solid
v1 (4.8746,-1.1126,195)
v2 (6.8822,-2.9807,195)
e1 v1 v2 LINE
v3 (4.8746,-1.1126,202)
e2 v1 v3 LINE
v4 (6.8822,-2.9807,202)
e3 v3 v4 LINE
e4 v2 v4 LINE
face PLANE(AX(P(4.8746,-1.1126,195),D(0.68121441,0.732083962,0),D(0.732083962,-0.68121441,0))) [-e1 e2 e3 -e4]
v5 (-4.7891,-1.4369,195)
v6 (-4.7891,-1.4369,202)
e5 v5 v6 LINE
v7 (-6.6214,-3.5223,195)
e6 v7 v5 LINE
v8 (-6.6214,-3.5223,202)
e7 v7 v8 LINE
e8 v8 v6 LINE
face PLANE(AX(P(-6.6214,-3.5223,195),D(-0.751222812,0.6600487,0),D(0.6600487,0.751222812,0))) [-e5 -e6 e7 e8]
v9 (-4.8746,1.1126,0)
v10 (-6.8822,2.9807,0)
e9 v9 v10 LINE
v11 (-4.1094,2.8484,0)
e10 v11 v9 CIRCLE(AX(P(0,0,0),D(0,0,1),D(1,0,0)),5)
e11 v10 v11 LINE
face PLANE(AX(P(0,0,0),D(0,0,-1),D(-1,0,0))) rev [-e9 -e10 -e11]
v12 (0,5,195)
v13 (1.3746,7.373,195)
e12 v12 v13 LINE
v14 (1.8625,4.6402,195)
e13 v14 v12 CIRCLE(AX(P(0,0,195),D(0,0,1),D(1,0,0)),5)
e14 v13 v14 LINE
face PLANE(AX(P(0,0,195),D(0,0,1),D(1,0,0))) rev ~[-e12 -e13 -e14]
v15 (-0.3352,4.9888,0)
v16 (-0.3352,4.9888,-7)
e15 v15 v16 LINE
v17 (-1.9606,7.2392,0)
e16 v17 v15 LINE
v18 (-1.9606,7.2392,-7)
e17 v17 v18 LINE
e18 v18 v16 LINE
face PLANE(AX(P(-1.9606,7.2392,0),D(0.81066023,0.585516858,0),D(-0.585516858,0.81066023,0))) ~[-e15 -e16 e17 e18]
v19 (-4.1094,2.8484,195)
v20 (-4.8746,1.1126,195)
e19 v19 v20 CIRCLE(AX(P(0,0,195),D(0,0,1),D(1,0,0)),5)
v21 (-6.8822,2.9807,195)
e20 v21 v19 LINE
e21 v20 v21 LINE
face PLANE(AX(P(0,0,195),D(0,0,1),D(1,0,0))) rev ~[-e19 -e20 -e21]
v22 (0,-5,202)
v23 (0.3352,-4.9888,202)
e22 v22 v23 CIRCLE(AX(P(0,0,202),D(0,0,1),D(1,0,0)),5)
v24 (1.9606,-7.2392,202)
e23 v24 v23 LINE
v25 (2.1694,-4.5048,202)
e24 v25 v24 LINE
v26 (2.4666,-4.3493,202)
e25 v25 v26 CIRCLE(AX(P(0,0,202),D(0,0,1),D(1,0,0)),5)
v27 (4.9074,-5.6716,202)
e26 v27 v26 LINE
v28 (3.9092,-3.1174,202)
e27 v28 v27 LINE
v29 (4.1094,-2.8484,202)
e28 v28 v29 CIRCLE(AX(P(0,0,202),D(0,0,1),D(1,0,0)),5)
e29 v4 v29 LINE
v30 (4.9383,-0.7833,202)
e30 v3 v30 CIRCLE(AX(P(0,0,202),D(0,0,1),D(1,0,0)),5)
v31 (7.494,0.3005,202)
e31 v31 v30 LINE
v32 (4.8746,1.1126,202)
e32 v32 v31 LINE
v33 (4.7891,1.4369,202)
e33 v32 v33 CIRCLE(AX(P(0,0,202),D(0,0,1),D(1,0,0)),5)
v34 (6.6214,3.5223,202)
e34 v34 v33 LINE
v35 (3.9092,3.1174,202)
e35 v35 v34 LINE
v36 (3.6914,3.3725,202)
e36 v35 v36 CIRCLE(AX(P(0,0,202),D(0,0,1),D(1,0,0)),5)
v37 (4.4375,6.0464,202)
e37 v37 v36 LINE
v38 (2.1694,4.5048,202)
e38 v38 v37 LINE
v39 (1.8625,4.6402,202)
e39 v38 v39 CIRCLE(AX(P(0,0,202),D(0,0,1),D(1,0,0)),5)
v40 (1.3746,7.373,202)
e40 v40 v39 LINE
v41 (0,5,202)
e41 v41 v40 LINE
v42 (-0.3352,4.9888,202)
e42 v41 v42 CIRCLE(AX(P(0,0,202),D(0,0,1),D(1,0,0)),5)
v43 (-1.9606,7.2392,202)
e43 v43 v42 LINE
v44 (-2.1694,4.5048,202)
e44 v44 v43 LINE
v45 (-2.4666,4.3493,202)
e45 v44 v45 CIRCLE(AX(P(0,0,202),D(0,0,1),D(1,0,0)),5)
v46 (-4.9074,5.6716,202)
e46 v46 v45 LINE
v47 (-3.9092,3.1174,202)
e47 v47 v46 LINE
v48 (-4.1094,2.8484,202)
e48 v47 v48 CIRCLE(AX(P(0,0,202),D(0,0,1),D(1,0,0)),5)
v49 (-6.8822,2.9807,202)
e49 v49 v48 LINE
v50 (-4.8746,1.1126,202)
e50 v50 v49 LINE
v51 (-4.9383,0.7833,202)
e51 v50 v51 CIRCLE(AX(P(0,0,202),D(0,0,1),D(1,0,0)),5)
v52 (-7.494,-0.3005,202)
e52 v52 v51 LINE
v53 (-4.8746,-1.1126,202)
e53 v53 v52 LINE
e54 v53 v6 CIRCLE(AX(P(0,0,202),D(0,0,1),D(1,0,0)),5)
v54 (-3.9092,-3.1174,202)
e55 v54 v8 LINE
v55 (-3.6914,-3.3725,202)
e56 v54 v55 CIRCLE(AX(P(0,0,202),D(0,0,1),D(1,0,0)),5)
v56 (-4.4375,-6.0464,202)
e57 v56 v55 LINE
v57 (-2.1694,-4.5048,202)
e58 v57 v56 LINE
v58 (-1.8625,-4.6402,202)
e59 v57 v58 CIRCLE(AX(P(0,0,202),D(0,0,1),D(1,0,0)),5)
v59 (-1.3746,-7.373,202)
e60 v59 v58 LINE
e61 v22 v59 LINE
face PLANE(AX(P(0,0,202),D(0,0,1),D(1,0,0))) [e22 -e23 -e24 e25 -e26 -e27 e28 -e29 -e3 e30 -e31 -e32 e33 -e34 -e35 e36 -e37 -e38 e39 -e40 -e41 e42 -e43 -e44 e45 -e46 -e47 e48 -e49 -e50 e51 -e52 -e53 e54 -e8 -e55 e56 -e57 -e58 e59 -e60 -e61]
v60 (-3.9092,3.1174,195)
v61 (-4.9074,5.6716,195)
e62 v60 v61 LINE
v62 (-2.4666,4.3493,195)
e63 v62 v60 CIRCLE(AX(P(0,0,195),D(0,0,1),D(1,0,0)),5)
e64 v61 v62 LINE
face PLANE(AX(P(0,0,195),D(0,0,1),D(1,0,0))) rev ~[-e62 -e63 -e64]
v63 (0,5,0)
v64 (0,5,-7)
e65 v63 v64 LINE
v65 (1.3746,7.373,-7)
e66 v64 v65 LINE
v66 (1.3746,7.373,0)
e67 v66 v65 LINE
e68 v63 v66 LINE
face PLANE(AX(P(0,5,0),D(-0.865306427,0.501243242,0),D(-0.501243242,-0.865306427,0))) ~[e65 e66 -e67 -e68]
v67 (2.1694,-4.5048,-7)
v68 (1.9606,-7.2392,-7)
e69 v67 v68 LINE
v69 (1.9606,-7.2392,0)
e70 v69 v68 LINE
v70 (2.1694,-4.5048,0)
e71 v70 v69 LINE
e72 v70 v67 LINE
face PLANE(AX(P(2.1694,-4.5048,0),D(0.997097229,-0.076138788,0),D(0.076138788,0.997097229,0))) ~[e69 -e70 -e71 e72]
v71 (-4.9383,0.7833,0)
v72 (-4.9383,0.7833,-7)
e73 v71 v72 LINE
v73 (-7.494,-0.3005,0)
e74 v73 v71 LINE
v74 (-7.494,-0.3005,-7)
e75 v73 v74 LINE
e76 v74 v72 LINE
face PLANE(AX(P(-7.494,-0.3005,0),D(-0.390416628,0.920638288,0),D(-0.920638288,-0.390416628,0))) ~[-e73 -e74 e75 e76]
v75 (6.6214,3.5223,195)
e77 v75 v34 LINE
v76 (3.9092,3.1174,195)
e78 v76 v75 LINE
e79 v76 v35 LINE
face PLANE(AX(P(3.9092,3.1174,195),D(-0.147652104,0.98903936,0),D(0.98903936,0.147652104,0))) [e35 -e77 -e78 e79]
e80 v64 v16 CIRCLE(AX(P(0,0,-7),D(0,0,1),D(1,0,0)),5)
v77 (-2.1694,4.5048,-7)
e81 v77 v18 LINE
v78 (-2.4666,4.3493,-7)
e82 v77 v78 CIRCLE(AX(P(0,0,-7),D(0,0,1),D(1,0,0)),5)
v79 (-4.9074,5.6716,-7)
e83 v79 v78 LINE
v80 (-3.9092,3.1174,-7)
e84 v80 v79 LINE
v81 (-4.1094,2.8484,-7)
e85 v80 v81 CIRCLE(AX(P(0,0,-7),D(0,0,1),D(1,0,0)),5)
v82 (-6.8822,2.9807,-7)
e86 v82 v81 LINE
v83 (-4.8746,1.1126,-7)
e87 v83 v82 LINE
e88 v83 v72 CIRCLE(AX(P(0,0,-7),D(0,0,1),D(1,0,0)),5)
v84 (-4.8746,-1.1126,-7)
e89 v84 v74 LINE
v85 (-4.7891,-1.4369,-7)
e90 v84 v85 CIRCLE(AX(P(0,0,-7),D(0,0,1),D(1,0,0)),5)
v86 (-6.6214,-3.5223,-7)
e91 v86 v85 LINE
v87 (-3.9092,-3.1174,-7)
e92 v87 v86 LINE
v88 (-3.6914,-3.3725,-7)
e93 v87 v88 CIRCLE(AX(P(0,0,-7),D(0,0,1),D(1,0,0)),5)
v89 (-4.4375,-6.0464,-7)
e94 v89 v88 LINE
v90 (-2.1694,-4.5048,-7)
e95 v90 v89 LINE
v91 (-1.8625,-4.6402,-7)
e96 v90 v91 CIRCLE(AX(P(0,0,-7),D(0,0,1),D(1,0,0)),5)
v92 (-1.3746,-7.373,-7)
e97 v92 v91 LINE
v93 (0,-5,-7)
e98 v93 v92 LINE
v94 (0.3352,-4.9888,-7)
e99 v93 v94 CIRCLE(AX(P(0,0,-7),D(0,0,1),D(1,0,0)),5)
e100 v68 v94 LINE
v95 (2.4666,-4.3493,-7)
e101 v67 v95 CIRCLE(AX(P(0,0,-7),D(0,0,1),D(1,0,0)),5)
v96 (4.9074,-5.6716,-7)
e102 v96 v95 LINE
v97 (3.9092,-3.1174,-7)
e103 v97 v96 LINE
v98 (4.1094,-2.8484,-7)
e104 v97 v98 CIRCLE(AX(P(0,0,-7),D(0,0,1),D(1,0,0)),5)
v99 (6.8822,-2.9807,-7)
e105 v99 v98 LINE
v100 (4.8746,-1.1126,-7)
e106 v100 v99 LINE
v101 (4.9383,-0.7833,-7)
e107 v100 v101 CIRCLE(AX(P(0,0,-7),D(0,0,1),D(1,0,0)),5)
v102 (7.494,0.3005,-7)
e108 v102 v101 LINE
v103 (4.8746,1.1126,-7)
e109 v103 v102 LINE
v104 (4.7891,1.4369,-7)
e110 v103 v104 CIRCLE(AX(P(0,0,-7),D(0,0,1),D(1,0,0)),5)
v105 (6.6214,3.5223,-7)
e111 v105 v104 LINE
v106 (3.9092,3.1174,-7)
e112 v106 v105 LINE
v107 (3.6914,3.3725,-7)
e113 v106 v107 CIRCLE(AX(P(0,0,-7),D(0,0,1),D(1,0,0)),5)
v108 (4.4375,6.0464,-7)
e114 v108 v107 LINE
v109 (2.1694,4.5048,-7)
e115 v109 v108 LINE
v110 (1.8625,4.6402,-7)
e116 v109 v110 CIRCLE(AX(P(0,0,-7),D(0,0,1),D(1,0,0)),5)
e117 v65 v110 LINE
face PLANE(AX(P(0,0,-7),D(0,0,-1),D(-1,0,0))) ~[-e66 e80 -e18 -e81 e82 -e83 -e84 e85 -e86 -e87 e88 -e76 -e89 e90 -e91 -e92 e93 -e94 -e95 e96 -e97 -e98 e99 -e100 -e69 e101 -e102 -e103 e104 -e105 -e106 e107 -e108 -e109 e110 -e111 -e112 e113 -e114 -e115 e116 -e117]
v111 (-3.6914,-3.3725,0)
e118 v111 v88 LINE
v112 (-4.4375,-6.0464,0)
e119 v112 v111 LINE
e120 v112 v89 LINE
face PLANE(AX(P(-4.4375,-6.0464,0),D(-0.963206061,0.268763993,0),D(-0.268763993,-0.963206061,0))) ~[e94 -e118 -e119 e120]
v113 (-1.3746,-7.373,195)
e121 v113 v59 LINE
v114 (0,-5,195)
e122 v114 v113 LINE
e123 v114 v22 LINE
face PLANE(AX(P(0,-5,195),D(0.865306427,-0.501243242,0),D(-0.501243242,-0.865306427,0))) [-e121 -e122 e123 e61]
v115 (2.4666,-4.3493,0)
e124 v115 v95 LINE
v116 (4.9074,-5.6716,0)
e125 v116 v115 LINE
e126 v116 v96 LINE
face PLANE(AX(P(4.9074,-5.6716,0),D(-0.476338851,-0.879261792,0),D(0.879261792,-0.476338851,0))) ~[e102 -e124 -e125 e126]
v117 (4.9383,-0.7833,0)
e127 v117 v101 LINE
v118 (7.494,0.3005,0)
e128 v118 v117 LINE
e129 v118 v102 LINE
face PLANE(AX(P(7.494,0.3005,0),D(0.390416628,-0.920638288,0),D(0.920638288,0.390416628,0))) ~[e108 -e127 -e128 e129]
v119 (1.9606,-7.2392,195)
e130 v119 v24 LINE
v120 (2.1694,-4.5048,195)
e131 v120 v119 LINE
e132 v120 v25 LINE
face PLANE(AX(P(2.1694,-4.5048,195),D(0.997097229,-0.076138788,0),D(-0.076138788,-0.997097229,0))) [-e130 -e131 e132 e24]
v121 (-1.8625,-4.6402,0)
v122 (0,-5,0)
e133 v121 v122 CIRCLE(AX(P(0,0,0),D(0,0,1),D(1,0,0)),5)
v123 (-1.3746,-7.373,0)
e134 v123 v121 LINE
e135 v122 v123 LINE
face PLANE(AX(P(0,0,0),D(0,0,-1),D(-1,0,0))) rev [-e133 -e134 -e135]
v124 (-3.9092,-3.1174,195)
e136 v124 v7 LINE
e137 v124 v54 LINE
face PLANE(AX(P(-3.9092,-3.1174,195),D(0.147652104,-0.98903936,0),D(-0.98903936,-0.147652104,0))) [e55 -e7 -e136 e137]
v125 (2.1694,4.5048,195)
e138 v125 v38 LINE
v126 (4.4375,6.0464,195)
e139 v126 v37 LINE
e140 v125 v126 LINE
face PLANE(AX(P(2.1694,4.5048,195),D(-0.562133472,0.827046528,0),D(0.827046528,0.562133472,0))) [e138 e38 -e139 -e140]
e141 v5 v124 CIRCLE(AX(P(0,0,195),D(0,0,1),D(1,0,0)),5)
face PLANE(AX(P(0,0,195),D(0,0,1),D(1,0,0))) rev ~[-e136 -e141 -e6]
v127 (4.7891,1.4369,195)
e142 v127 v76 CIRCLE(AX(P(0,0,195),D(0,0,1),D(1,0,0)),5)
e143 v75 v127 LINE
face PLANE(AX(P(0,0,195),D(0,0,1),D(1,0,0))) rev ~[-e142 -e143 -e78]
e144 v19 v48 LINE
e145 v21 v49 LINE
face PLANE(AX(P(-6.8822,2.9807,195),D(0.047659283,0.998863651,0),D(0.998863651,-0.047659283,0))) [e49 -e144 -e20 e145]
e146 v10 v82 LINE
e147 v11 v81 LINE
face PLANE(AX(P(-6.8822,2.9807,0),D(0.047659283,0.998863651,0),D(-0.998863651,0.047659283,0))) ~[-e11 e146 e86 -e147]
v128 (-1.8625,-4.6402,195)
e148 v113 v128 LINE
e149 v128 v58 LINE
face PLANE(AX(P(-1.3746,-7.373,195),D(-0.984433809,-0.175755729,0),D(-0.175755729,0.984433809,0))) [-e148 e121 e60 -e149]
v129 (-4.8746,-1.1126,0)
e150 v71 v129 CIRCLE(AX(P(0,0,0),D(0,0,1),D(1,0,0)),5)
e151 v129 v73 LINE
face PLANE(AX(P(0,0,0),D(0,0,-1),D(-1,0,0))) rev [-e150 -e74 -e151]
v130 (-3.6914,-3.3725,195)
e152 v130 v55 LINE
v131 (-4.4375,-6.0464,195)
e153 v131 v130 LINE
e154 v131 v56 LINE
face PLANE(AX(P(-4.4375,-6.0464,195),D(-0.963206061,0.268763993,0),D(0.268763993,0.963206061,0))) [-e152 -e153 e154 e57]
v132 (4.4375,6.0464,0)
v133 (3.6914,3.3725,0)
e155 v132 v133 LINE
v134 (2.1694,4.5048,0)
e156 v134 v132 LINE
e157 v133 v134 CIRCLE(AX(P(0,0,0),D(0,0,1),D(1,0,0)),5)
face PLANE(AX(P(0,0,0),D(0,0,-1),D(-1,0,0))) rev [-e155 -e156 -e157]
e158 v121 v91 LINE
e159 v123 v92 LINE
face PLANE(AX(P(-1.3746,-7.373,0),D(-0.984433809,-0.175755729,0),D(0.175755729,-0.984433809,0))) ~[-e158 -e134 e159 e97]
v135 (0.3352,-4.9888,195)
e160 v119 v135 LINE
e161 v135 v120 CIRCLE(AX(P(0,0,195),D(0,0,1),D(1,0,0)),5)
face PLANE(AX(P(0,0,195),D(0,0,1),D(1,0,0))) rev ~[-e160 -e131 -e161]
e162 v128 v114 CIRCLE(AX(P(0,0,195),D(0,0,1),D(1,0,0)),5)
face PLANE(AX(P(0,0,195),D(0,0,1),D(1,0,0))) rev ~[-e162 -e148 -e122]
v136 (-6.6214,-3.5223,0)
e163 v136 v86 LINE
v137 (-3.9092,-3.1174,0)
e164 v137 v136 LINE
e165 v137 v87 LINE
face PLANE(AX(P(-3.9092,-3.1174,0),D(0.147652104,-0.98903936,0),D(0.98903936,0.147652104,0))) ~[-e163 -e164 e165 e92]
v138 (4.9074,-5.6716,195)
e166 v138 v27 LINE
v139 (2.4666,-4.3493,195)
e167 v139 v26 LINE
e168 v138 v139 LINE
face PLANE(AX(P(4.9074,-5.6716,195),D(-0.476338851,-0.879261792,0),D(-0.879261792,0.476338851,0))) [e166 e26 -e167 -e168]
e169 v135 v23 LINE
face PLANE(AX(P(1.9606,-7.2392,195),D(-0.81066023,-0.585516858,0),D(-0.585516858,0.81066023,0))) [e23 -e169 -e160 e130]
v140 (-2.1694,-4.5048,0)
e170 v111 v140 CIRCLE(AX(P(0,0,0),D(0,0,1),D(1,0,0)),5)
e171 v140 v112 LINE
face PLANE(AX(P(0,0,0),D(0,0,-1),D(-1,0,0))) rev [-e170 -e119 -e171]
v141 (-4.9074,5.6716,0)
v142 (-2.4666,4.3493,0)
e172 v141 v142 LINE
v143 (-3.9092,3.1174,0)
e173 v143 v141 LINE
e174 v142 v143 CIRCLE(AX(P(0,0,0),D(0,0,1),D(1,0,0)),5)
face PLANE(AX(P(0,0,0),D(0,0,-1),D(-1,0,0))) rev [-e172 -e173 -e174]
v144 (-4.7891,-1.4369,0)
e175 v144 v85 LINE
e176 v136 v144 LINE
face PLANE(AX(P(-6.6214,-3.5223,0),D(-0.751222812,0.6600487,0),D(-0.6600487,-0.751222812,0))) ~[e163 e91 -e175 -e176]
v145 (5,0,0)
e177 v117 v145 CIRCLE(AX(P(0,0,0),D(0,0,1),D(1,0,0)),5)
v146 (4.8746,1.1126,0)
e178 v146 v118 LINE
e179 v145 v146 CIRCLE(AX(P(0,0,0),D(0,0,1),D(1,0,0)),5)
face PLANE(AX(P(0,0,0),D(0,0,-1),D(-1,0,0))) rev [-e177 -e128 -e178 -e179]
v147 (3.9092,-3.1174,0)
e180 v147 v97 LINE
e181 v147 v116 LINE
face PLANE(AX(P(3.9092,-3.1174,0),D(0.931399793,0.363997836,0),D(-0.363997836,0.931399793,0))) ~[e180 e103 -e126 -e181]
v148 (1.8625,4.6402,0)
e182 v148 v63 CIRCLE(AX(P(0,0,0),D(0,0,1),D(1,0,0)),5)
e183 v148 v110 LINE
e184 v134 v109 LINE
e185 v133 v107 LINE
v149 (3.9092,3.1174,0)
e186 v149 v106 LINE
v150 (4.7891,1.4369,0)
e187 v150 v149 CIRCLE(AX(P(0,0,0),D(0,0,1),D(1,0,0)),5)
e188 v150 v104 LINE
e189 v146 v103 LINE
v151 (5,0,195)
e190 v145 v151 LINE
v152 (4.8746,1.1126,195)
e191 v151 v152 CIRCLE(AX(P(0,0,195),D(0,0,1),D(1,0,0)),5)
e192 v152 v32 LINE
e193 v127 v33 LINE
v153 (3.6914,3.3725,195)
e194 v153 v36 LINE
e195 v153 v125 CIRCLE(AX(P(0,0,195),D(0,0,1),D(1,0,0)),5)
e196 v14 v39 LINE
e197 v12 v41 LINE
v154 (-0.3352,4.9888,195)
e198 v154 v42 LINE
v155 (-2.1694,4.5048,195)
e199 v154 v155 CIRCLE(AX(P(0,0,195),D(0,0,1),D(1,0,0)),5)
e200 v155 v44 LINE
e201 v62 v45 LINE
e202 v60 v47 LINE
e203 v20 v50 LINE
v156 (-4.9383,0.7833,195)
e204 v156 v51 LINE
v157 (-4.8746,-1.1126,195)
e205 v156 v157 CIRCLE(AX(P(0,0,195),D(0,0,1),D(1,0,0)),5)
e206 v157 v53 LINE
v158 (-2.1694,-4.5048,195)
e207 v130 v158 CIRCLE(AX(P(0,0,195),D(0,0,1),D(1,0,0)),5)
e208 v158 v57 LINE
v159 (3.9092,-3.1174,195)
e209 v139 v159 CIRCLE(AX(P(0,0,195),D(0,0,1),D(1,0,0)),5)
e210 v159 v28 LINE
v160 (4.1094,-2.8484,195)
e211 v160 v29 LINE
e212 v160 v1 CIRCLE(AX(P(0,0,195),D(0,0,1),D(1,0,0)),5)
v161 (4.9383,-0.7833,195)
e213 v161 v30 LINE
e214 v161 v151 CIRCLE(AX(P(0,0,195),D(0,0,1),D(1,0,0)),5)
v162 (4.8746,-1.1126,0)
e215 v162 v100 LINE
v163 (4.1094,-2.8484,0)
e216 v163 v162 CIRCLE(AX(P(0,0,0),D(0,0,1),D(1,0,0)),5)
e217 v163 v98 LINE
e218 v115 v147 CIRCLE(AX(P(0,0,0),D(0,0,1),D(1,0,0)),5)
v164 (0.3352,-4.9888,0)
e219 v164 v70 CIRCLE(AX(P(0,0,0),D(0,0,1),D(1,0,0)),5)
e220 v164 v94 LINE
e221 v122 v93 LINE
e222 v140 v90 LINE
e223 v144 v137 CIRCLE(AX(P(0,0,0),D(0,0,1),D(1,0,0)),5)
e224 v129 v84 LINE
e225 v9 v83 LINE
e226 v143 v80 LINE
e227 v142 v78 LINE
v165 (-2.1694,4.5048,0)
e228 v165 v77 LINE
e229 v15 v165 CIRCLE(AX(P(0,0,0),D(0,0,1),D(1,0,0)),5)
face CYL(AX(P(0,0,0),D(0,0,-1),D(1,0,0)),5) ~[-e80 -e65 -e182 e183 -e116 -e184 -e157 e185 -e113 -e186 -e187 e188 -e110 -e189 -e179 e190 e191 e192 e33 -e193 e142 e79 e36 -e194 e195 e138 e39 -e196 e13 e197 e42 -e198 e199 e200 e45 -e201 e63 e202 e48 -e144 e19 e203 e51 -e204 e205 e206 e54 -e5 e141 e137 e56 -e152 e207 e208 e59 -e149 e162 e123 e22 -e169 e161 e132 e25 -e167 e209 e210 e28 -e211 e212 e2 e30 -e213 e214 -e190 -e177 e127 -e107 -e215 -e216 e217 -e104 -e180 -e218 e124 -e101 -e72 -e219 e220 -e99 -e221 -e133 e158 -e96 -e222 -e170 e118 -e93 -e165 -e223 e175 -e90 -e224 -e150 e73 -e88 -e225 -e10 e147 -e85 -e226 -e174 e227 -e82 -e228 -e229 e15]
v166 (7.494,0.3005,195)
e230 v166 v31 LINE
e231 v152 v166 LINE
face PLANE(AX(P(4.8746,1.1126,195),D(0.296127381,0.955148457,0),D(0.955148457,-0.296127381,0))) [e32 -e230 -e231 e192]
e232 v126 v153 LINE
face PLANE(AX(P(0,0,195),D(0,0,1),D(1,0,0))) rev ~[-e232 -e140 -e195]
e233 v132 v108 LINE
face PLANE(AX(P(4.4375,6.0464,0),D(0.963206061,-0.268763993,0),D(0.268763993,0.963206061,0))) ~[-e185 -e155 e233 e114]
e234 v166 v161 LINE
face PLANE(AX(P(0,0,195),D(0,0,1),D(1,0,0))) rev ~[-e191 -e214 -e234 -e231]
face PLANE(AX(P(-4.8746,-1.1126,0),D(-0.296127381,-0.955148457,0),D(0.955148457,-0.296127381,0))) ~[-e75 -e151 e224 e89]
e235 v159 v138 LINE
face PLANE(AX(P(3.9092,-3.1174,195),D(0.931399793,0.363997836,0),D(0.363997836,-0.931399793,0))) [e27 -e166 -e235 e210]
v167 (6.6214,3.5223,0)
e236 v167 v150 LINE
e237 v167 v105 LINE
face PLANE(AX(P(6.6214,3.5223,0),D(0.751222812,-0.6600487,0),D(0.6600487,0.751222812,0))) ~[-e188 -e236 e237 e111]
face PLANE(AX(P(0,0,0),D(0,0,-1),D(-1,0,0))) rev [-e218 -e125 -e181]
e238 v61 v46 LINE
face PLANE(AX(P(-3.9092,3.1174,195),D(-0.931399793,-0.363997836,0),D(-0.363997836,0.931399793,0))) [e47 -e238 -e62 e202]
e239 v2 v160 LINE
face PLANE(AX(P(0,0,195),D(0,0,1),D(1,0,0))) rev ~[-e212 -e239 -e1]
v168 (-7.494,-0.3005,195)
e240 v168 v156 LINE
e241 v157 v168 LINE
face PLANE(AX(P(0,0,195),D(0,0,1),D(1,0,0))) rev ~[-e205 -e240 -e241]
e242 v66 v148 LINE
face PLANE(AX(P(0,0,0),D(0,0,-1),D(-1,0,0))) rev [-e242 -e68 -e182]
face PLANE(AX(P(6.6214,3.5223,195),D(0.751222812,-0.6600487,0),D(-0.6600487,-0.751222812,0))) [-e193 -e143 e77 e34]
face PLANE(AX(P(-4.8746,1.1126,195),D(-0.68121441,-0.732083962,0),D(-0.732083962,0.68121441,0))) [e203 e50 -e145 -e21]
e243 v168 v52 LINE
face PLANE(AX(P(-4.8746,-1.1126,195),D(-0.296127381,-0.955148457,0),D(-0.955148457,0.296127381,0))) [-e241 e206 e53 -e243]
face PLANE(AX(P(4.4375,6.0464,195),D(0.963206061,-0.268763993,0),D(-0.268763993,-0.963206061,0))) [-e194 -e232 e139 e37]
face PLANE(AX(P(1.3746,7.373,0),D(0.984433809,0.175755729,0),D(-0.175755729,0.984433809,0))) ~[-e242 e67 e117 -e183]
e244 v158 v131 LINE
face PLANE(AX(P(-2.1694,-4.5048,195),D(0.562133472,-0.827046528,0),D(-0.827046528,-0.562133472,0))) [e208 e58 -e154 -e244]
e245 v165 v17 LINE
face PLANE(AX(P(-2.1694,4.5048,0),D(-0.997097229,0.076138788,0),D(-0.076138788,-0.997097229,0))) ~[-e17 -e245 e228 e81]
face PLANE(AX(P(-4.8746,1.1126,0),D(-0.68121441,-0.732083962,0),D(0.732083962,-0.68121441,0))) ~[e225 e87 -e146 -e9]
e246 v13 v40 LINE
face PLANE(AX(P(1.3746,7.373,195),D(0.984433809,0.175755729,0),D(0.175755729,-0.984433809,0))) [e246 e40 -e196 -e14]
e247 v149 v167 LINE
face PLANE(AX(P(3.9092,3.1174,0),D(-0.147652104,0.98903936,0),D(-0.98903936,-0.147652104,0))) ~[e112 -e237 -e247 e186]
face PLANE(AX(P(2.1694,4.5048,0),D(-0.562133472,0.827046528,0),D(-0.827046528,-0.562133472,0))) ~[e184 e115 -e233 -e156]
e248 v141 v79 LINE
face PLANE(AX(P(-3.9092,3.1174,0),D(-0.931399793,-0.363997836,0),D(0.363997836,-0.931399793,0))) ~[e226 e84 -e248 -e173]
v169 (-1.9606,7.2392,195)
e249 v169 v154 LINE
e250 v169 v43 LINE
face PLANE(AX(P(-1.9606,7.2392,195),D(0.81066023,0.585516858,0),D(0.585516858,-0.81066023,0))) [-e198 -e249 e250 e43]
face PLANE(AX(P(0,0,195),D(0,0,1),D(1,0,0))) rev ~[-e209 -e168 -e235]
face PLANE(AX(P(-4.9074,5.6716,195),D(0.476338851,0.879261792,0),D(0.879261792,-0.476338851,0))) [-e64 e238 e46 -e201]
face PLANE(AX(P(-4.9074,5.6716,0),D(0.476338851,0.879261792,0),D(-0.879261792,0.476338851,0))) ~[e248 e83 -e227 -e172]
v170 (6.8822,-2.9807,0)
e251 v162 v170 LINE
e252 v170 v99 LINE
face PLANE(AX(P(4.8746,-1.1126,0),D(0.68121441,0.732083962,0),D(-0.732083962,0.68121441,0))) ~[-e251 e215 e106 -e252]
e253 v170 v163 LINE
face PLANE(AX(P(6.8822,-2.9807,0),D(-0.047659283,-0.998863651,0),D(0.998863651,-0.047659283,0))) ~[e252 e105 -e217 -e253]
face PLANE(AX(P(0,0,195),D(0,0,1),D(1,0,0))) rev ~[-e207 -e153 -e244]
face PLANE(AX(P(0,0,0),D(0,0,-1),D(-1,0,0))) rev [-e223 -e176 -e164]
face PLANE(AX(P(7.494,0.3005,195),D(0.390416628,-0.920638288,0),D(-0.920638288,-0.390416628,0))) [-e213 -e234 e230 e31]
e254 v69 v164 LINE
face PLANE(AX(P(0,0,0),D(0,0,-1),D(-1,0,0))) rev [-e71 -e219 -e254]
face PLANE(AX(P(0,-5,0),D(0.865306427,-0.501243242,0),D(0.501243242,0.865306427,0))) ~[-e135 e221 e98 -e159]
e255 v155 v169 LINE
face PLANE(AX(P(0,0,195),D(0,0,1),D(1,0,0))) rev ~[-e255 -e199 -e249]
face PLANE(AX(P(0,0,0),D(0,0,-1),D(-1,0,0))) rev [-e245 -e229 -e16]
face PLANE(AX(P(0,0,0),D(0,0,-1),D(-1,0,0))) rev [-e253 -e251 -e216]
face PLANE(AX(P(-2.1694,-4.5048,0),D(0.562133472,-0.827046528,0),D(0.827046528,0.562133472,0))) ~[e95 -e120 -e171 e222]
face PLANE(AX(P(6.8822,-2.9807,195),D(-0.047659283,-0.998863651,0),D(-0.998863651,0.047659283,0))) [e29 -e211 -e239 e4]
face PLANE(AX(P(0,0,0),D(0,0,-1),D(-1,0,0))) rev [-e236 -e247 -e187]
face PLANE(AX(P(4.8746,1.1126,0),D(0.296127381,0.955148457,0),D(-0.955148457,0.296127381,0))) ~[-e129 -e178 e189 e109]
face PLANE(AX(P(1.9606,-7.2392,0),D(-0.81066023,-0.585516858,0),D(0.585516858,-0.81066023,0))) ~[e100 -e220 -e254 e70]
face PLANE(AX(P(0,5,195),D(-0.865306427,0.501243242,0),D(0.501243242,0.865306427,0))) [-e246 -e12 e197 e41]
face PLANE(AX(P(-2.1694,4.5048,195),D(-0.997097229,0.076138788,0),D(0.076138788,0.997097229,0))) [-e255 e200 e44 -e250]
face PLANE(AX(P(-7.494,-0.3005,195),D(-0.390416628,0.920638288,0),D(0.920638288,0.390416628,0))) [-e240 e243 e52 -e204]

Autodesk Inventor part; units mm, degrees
ref_plane "YZ Plane" through (0, 0, 0) normal (1, 0, 0) x (0, 1, 0)
ref_plane "XZ Plane" through (0, 0, 0) normal (0, 1, 0) x (-1, 0, 0)
ref_plane "XY Plane" through (0, 0, 0) normal (0, 0, 1) x (1, 0, 0)
sketch "Skizze1" plane through (0, 0, 0) normal (0, 0, 1) x (1, 0, 0)
  circle A0 centre (0, 0) radius 5
  dimension "d0" = 10
extrude "Extrusion1" add sketch "Skizze1" along normal blind 195
sketch "Skizze2" plane through (0, 0, 195) normal (0, 0, 1) x (1, 0, 0)
  circle A0 centre (0, 0) radius 5 projected
  circle A1 centre (0, 0) radius 7.5
  circle A2 centre (0, 0) radius 5 projected
  line L0 (0, -5) -> (-1.3746, -7.373)
  line L1 (-1.3746, -7.373) -> (-1.8625, -4.6402)
  arc A3 (-1.8625, -4.6402) -> (0, -5) centre (0, 0) ccw
  line L2 (2.1694, -4.5048) -> (1.9606, -7.2392)
  line L3 (1.9606, -7.2392) -> (0.3352, -4.9888)
  arc A4 (0.3352, -4.9888) -> (2.1694, -4.5048) centre (0, 0) ccw
  line L4 (3.9092, -3.1174) -> (4.9074, -5.6716)
  line L5 (4.9074, -5.6716) -> (2.4666, -4.3493)
  arc A5 (2.4666, -4.3493) -> (3.9092, -3.1174) centre (0, 0) ccw
  line L6 (4.8746, -1.1126) -> (6.8822, -2.9807)
  line L7 (6.8822, -2.9807) -> (4.1094, -2.8484)
  arc A6 (4.1094, -2.8484) -> (4.8746, -1.1126) centre (0, 0) ccw
  line L8 (4.8746, 1.1126) -> (7.494, 0.3005)
  line L9 (7.494, 0.3005) -> (4.9383, -0.7833)
  arc A7 (4.9383, -0.7833) -> (4.8746, 1.1126) centre (0, 0) ccw
  line L10 (3.9092, 3.1174) -> (6.6214, 3.5223)
  line L11 (6.6214, 3.5223) -> (4.7891, 1.4369)
  arc A8 (4.7891, 1.4369) -> (3.9092, 3.1174) centre (0, 0) ccw
  line L12 (2.1694, 4.5048) -> (4.4375, 6.0464)
  line L13 (4.4375, 6.0464) -> (3.6914, 3.3725)
  arc A9 (3.6914, 3.3725) -> (2.1694, 4.5048) centre (0, 0) ccw
  line L14 (0, 5) -> (1.3746, 7.373)
  line L15 (1.3746, 7.373) -> (1.8625, 4.6402)
  arc A10 (1.8625, 4.6402) -> (0, 5) centre (0, 0) ccw
  line L16 (-2.1694, 4.5048) -> (-1.9606, 7.2392)
  line L17 (-1.9606, 7.2392) -> (-0.3352, 4.9888)
  arc A11 (-0.3352, 4.9888) -> (-2.1694, 4.5048) centre (0, 0) ccw
  line L18 (-3.9092, 3.1174) -> (-4.9074, 5.6716)
  line L19 (-4.9074, 5.6716) -> (-2.4666, 4.3493)
  arc A12 (-2.4666, 4.3493) -> (-3.9092, 3.1174) centre (0, 0) ccw
  line L20 (-4.8746, 1.1126) -> (-6.8822, 2.9807)
  line L21 (-6.8822, 2.9807) -> (-4.1094, 2.8484)
  arc A13 (-4.1094, 2.8484) -> (-4.8746, 1.1126) centre (0, 0) ccw
  line L22 (-4.8746, -1.1126) -> (-7.494, -0.3005)
  line L23 (-7.494, -0.3005) -> (-4.9383, 0.7833)
  arc A14 (-4.9383, 0.7833) -> (-4.8746, -1.1126) centre (0, 0) ccw
  line L24 (-3.9092, -3.1174) -> (-6.6214, -3.5223)
  line L25 (-6.6214, -3.5223) -> (-4.7891, -1.4369)
  arc A15 (-4.7891, -1.4369) -> (-3.9092, -3.1174) centre (0, 0) ccw
  line L26 (-2.1694, -4.5048) -> (-4.4375, -6.0464)
  line L27 (-4.4375, -6.0464) -> (-3.6914, -3.3725)
  arc A16 (-3.6914, -3.3725) -> (-2.1694, -4.5048) centre (0, 0) ccw
  dimension "d3" = 15
  dimension "d6" = 360
extrude "Extrusion2" add sketch "Skizze2" along normal blind 7 contours A0 | A0 L8 L9 | A0 L10 L11 | L6 L7 A0 | A0 L12 L13 | L4 L5 A0 | L15 A0 L14 | L3 A0 L2 | L17 A0 L16 | L1 A0 L0 | L19 A0 L18 | L27 A0 L26 | L21 A0 L20 | L25 A0 L24 | L23 A0 L22
ref_plane "Arbeitsebene1" through (0, 0, 97.5) normal (0, 0, -1) x (-1, 0, 0)
mirror "Spiegeln2" about plane through (0, 0, 97.5) normal (0, 0, -1) of "Extrusion2"
equation "\"d0\" = Durchmesser3"
equation "\"d3\" = Durchmesser1"
equation "\"Durchmesser1\" = 15"
equation "\"Größe1\" = 7"
equation "\"Durchmesser2\" = 3"
equation "\"Durchmesser3\" = 10"
equation "\"Größe3\" = 3"
equation "\"Größe4\" = 15"
properties part number "WelleRuder2"
